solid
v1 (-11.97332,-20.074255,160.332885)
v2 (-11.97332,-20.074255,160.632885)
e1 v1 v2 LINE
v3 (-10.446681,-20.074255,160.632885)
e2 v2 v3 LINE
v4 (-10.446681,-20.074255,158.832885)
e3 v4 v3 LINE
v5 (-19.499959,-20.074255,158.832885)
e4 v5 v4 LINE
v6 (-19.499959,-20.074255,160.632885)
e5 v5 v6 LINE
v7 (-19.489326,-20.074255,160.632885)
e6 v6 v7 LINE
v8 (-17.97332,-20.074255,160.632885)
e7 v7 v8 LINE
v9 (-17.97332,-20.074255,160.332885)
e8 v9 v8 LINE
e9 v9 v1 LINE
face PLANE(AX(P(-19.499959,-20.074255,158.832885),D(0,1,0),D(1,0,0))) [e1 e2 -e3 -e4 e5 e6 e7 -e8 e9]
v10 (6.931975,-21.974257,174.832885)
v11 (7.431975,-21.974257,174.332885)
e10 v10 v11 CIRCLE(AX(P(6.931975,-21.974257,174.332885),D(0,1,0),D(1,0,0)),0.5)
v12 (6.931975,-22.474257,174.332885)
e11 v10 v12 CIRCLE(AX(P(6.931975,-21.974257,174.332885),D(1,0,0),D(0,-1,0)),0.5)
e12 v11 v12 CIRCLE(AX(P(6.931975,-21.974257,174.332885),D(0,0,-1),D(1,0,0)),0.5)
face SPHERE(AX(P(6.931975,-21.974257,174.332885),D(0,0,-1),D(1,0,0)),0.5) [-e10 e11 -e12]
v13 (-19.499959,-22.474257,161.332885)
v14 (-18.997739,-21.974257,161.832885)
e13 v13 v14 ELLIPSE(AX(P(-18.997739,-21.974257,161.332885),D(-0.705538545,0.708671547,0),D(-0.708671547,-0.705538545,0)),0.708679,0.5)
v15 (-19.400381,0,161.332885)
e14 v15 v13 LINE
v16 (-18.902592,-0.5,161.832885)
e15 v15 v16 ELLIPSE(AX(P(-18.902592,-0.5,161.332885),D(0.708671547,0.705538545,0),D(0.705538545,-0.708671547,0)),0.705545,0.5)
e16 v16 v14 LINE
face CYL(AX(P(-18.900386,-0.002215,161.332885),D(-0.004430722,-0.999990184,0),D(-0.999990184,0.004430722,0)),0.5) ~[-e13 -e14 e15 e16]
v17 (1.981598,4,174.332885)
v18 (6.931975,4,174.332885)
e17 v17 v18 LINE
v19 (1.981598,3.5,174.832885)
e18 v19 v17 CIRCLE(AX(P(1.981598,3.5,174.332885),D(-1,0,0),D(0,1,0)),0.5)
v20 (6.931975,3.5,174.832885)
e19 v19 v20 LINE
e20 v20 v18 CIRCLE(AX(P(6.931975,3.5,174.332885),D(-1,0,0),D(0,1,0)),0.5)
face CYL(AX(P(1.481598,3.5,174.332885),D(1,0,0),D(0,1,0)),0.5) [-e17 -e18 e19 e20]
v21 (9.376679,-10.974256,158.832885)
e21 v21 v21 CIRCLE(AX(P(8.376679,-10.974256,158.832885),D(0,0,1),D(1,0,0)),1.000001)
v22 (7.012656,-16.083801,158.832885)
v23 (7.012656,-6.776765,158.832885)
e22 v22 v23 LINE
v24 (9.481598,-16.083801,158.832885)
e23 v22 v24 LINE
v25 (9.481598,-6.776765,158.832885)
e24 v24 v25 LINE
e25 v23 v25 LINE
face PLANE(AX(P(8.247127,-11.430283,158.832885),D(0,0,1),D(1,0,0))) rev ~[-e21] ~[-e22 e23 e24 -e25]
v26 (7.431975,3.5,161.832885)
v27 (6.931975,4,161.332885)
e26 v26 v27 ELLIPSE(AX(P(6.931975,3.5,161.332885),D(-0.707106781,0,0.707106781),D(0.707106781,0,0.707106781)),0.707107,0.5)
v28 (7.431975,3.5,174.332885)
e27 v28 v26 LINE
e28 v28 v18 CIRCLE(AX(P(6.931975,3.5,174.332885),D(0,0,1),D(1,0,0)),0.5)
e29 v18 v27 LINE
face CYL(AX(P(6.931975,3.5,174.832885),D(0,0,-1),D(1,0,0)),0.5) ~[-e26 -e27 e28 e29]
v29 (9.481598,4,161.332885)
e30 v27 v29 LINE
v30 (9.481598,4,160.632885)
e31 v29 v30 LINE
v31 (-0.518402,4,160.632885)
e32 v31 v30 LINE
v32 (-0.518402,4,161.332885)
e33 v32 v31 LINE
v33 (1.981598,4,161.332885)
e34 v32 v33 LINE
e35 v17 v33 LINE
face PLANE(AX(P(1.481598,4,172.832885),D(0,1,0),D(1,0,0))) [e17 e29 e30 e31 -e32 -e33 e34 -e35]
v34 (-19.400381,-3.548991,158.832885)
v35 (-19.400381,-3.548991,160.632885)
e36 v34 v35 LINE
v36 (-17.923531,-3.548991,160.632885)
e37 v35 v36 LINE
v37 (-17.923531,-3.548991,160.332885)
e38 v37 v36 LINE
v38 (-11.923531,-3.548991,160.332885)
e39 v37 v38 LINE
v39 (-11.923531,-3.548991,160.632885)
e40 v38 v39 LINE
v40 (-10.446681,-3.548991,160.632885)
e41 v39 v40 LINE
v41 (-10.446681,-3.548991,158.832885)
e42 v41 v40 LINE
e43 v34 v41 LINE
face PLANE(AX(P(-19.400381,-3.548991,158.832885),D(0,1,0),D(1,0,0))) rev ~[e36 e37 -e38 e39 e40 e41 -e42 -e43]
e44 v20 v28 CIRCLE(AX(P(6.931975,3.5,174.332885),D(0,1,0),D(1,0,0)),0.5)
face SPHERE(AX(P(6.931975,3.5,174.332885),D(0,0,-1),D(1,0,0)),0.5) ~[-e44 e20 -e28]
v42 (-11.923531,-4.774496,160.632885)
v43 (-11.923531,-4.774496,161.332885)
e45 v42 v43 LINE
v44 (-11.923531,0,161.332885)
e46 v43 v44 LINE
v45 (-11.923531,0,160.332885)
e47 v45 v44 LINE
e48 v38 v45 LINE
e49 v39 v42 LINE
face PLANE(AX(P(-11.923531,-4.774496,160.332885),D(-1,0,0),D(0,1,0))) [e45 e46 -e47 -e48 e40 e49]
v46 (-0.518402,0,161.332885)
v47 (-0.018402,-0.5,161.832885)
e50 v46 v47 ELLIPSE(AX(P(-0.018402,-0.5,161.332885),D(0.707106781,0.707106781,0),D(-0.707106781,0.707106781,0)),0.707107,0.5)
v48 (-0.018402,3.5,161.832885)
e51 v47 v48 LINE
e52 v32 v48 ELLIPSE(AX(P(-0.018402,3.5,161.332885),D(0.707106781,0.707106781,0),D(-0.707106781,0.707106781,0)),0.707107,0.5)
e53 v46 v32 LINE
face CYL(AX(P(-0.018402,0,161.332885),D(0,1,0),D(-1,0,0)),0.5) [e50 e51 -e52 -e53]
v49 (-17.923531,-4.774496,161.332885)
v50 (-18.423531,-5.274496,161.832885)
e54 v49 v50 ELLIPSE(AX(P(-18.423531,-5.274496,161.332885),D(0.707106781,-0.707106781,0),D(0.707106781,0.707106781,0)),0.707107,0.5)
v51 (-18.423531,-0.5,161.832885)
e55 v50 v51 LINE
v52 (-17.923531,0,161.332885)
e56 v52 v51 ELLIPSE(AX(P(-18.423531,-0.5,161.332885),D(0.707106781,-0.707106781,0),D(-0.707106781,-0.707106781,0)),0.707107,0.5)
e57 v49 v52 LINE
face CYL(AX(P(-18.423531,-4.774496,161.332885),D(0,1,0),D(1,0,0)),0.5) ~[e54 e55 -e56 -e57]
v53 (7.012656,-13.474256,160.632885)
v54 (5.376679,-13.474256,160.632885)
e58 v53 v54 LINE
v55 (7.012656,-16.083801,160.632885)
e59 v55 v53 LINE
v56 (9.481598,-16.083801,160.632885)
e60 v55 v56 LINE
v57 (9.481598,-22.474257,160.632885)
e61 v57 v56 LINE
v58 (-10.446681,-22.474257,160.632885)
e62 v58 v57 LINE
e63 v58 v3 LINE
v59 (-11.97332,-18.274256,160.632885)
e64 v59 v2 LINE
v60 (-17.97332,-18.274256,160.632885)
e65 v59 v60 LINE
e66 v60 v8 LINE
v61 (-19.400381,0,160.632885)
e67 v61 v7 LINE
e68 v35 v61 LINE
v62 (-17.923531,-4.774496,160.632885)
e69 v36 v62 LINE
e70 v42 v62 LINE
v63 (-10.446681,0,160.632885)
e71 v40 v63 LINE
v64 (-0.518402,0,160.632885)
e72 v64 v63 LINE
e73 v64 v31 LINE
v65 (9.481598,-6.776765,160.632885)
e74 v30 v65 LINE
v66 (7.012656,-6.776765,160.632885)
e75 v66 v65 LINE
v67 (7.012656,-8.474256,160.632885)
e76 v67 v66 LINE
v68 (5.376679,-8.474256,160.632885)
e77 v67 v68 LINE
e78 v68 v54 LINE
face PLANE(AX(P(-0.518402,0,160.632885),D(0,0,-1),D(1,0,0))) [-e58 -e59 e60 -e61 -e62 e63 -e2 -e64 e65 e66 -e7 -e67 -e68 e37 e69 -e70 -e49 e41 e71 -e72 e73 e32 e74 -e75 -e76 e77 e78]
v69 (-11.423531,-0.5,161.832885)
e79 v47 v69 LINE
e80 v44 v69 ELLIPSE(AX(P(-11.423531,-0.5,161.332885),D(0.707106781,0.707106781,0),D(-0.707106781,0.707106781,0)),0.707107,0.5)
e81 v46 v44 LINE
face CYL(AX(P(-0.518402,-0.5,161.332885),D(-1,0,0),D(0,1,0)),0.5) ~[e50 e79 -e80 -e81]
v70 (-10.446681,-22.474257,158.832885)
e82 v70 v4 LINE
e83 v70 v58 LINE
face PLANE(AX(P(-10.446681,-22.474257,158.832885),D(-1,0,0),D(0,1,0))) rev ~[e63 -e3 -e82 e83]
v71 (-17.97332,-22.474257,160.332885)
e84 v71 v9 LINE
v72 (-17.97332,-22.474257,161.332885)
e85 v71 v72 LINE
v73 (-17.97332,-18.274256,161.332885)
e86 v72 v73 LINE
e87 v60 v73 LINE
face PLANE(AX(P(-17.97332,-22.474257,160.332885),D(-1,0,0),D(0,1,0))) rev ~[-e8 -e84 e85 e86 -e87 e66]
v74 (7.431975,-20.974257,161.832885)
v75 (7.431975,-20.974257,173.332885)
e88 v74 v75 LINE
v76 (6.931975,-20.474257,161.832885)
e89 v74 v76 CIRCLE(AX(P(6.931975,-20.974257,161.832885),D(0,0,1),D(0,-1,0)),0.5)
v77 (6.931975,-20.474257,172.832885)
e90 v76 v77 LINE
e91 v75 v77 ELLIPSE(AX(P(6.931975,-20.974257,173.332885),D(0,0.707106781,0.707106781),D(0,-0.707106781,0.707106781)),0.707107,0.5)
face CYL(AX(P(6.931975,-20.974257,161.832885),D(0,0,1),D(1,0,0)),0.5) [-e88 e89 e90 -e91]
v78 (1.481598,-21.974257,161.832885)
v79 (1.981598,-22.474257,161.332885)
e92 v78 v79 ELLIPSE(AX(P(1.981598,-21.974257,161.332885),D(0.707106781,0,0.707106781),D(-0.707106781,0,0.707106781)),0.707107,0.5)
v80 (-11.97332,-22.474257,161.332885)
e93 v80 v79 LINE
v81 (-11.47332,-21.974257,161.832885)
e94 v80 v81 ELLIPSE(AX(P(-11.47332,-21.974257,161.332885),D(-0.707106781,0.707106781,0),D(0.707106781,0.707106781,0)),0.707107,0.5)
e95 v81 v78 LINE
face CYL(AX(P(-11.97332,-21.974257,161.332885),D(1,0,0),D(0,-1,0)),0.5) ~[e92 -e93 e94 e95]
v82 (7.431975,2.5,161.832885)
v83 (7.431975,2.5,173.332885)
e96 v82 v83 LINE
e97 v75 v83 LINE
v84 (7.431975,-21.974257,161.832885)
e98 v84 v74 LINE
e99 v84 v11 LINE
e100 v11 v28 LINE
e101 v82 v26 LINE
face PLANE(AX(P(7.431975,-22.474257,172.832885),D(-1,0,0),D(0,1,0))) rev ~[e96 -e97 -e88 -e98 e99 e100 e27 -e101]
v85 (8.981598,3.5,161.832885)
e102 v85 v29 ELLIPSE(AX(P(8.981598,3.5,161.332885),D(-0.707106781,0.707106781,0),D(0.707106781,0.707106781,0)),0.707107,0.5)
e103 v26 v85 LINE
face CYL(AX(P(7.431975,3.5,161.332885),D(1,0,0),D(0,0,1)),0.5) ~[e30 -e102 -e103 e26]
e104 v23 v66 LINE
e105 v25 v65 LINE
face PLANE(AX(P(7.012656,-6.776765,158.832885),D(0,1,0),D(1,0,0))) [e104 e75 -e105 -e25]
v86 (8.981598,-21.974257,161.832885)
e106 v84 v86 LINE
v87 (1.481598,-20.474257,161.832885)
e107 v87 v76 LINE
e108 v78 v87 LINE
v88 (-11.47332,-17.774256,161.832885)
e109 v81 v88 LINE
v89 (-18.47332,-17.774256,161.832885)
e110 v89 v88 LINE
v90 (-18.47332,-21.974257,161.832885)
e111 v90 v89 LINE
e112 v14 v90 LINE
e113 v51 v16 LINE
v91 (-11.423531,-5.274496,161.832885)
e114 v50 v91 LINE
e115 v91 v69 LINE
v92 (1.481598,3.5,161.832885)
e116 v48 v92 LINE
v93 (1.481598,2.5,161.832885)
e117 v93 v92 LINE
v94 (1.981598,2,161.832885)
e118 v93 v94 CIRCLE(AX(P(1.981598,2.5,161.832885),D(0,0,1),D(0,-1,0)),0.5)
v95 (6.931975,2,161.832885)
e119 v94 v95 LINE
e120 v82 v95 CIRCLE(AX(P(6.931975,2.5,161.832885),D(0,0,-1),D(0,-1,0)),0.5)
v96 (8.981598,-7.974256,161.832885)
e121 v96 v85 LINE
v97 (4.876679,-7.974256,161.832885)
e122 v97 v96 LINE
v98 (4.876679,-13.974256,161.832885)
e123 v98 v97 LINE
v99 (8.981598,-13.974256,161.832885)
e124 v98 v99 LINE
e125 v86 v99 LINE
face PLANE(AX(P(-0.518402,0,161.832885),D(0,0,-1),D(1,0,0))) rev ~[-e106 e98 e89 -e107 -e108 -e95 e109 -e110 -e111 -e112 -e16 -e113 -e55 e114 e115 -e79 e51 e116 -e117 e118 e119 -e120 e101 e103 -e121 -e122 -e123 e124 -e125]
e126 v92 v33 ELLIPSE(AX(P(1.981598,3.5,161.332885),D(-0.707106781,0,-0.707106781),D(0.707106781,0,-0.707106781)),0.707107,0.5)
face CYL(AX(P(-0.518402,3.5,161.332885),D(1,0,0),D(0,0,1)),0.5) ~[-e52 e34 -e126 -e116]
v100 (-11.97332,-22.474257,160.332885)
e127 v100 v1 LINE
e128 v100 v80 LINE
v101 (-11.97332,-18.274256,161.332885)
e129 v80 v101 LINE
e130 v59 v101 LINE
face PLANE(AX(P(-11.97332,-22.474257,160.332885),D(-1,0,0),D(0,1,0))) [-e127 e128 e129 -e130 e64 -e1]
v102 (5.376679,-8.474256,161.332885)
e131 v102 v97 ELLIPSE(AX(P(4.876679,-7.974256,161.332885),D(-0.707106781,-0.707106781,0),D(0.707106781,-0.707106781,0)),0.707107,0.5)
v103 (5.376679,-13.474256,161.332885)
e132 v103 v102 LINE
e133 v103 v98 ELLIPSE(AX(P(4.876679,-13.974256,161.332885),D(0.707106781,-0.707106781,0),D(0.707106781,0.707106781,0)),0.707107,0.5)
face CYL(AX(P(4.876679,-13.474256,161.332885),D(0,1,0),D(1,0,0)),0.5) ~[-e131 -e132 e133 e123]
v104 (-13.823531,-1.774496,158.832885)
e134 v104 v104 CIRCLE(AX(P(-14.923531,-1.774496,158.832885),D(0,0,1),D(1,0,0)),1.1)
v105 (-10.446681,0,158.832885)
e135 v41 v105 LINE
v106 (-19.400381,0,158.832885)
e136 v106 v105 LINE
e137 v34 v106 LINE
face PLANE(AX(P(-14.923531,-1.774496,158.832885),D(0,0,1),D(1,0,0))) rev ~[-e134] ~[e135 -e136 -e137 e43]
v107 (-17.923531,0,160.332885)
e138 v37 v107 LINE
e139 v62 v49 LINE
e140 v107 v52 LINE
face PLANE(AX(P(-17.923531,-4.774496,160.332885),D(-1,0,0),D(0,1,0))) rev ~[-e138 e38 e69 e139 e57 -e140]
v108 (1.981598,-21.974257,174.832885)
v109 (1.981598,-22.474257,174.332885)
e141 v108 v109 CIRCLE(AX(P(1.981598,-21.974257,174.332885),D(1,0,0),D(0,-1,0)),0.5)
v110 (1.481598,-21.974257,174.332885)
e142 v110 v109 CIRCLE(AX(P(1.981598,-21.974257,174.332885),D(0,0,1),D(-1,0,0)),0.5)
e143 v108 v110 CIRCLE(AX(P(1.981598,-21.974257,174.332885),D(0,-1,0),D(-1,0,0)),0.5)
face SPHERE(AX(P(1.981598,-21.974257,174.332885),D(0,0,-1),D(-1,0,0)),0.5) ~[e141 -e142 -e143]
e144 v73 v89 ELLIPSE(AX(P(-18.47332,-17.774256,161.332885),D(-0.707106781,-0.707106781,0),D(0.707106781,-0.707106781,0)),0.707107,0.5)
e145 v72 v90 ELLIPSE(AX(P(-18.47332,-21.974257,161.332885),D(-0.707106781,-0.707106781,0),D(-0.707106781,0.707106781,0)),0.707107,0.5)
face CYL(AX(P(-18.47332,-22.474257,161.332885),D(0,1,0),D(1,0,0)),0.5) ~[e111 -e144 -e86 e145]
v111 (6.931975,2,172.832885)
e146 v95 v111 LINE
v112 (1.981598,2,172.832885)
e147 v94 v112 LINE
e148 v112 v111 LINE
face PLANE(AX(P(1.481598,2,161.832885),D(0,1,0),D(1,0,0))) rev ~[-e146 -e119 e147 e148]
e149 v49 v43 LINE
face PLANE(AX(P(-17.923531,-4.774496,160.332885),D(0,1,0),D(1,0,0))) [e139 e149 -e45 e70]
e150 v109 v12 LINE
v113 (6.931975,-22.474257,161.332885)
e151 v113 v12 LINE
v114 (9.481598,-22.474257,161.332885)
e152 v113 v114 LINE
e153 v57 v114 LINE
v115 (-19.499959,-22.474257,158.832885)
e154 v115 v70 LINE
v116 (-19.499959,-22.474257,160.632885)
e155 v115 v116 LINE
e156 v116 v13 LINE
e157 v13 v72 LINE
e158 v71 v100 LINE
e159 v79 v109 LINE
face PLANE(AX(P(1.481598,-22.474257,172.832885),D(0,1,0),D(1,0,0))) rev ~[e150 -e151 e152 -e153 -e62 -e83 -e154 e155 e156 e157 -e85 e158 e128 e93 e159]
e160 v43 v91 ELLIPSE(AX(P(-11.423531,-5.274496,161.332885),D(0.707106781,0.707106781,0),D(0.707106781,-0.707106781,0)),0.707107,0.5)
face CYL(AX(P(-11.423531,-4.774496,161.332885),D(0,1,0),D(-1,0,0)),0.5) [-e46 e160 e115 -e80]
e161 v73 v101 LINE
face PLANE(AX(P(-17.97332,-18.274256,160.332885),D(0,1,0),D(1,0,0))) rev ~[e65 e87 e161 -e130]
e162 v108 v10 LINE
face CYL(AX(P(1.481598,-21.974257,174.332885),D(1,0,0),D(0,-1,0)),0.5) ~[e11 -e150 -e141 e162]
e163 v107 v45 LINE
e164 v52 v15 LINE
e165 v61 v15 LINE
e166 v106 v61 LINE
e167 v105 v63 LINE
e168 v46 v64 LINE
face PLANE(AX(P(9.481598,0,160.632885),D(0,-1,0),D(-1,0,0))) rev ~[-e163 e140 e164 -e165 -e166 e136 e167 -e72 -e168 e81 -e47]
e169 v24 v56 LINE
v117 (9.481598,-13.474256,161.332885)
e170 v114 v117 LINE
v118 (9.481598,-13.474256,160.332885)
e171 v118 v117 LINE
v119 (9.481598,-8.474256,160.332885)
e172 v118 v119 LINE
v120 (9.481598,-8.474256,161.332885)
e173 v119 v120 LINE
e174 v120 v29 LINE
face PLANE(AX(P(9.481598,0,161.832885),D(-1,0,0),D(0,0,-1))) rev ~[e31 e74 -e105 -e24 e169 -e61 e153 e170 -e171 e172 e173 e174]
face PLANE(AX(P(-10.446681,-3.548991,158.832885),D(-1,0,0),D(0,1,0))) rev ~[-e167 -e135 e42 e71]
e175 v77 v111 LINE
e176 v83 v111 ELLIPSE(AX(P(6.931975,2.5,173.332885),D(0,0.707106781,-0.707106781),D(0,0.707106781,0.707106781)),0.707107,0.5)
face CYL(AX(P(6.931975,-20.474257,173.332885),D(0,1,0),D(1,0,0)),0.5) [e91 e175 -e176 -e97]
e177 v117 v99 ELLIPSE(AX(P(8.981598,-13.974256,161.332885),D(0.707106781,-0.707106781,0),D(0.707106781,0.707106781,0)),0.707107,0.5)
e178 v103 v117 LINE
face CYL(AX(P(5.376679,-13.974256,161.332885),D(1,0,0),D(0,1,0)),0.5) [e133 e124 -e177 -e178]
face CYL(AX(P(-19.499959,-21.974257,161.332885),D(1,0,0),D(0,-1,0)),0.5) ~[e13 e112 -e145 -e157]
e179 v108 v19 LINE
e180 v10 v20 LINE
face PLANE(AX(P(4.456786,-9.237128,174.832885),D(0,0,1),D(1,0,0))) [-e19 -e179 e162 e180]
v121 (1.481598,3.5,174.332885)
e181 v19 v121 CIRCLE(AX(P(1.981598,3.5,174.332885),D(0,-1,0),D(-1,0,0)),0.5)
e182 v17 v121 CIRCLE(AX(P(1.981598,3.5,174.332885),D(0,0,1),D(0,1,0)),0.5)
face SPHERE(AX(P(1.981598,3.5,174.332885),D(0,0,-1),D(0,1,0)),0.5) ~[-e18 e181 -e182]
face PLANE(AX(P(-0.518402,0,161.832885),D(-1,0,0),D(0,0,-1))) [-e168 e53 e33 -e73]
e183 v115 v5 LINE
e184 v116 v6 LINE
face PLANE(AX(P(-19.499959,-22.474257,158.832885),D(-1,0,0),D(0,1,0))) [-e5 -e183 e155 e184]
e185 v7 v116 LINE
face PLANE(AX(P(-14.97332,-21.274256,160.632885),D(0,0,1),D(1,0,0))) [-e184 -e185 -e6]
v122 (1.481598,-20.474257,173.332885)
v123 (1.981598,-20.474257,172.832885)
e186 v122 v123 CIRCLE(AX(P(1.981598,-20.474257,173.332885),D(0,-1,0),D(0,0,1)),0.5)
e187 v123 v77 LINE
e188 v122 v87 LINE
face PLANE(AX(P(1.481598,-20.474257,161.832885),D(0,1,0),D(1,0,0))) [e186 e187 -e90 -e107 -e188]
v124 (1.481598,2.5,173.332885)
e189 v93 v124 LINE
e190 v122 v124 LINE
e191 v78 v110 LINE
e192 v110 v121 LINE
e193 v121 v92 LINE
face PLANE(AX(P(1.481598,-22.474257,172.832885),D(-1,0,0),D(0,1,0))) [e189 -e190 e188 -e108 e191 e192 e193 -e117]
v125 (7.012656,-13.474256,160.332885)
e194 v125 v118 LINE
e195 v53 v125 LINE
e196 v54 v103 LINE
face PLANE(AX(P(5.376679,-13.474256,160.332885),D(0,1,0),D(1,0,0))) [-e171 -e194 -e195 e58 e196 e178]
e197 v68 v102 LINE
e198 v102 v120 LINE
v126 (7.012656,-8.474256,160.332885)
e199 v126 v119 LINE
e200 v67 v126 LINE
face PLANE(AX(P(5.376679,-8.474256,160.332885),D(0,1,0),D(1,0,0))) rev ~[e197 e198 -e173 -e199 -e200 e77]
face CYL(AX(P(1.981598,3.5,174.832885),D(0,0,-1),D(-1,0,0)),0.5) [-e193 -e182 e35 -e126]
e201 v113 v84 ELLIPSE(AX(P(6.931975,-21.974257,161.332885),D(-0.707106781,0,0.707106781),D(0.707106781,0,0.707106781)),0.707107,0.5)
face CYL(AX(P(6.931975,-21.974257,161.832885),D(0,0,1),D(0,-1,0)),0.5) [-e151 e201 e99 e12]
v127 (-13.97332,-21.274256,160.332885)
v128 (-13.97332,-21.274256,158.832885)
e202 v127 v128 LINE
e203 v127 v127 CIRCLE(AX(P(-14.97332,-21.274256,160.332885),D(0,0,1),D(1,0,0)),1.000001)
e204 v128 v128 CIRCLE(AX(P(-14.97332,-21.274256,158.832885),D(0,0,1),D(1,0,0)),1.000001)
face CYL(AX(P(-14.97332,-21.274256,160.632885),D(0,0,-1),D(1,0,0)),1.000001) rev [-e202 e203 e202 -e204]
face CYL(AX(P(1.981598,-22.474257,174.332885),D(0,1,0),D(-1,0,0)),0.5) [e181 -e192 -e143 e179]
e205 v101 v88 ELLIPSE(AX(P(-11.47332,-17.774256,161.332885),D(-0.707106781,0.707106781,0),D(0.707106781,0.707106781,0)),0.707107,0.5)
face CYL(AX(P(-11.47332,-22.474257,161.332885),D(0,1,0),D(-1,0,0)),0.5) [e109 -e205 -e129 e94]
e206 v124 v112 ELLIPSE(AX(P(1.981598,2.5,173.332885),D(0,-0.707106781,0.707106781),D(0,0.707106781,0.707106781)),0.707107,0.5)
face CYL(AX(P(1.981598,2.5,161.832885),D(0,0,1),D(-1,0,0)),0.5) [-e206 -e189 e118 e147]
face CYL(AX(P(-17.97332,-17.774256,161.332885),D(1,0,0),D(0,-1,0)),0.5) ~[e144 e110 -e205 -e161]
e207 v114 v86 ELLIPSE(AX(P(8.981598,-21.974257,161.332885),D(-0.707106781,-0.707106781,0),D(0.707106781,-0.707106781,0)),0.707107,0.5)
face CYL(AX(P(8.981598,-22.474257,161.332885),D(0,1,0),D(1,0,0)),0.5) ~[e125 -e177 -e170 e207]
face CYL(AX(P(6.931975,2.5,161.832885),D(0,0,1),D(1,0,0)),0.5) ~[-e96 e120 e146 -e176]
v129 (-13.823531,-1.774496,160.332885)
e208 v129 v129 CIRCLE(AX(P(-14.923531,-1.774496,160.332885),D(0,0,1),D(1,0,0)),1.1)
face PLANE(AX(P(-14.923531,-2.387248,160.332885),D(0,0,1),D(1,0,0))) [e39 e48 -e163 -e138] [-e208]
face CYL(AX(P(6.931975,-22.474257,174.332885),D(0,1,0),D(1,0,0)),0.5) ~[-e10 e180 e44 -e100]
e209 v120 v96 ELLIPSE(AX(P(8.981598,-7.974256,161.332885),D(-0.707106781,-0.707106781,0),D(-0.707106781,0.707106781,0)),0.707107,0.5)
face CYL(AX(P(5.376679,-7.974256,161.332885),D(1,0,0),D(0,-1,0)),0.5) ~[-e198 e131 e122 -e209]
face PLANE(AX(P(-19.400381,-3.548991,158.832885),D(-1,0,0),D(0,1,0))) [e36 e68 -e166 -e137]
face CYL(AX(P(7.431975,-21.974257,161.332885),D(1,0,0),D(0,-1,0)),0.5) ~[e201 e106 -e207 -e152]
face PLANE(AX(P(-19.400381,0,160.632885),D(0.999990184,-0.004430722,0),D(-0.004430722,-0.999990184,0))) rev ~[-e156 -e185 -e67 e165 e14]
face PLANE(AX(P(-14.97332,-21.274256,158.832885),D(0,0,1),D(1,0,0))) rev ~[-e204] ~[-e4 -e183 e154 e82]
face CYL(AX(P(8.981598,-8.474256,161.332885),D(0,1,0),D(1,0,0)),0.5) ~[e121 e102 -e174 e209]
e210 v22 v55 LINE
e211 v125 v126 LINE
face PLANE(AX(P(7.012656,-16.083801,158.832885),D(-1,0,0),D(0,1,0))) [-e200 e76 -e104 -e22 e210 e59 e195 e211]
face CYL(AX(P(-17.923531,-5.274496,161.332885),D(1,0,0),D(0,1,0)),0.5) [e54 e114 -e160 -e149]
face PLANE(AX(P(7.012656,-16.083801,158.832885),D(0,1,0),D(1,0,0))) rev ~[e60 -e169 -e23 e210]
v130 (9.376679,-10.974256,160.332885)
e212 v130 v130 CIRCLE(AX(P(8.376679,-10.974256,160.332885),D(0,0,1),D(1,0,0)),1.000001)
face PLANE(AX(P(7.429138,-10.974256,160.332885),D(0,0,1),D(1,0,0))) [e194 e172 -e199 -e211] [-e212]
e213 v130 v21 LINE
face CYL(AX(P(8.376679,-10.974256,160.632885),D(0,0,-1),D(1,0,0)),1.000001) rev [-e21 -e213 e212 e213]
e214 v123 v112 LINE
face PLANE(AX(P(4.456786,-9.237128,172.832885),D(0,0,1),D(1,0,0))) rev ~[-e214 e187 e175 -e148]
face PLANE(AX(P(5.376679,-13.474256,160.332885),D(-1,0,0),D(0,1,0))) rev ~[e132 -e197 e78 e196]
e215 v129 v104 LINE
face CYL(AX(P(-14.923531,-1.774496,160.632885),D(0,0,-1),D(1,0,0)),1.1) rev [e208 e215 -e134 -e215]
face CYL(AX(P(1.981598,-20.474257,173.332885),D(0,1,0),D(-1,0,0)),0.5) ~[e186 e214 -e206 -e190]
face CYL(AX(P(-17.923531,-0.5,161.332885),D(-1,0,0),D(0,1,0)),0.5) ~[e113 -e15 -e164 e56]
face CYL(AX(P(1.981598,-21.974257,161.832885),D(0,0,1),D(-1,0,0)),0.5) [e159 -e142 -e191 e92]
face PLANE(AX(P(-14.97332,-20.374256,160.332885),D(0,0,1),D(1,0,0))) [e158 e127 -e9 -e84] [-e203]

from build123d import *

# Parameters (mm, degrees)
SZKIC1_W                      = 9.053278123
SZKIC1_H                      = 2.4000014
SZKIC1_R                      = 1.00000054
DODANIE_WYCI_GNI_CIE1_DEPTH   = 1.8
SZKIC1_W_2                    = 2.468942166
SZKIC1_H_2                    = 9.307035938
DODANIE_WYCI_GNI_CIE1_2_DEPTH = 1.8
SZKIC1_W_3                    = 8.953699963
SZKIC1_H_3                    = 3.54899108
SZKIC1_R_2                    = 1.10000034
DODANIE_WYCI_GNI_CIE1_3_DEPTH = 1.8
SZKIC2_R                      = 1.00000054
SZKIC2_R_2                    = 1.10000034
DODANIE_WYCI_GNI_CIE2_DEPTH   = 1.2
WYTNIJ_WYCI_GNI_CIE1_START    = -1.5
SZKIC3_W                      = 4.104918972
SZKIC3_H                      = 5
SZKIC3_R                      = 1.00000054
SZKIC3_W_2                    = 6
SZKIC3_H_2                    = 4.77449554
SZKIC3_R_2                    = 1.10000034
SZKIC3_H_3                    = 4.2000007
WYTNIJ_WYCI_GNI_CIE1_DEPTH    = 1.5
SZKIC7_W                      = 10
SZKIC7_H                      = 1.2
DODANIE_WYCI_GNI_CIE3_DEPTH   = 4
SZKIC8_W                      = 5.950377167
SZKIC8_H                      = 2
DODANIE_WYCI_GNI_CIE4_DEPTH   = 11
SZKIC9_W                      = 5.950377167
SZKIC9_H                      = 26.47425658
DODANIE_WYCI_GNI_CIE5_DEPTH   = 2
ZAOKR_GLENIE4_R               = 0.5


with BuildPart() as part:
    # Szkic1 → Dodanie-wyciągnięcie1 (new body)
    with BuildSketch(Plane.XY.offset(158.832884642)):
        with Locations((-14.973320297, -21.27425588)):
            Rectangle(SZKIC1_W, SZKIC1_H)
        with Locations((-14.973320296, -21.27425588)):
            Circle(SZKIC1_R, mode=Mode.SUBTRACT)
    extrude(amount=DODANIE_WYCI_GNI_CIE1_DEPTH)



with BuildPart() as body_2:
    # Szkic1 → Dodanie-wyci_gni_cie1 2 (new body)
    with BuildSketch(Plane.XY.offset(158.832884642)):
        with Locations((8.247126613, -11.430282713)):
            Rectangle(SZKIC1_W_2, SZKIC1_H_2)
        with Locations((8.376678724, -10.97425616)):
            Circle(SZKIC1_R, mode=Mode.SUBTRACT)
    extrude(amount=DODANIE_WYCI_GNI_CIE1_2_DEPTH)


with BuildPart() as body_3:
    # Szkic1 → Dodanie-wyci_gni_cie1 3 (new body)
    with BuildSketch(Plane.XY.offset(158.832884642)):
        with Locations((-14.923531217, -1.77449554)):
            Rectangle(SZKIC1_W_3, SZKIC1_H_3)
        with Locations((-14.923531216, -1.77449554)):
            Circle(SZKIC1_R_2, mode=Mode.SUBTRACT)
    extrude(amount=DODANIE_WYCI_GNI_CIE1_3_DEPTH)


with BuildPart() as part_1:
    add(part.part)

    add(body_2.part)  # Dodanie-wyciągnięcie2 merges body 2

    add(body_3.part)  # Dodanie-wyciągnięcie2 merges body 3
    # Szkic2 → Dodanie-wyciągnięcie2 (add)
    with BuildSketch(Plane.XY.offset(160.632884642)):
        Polygon((9.481597696, 0), (-19.400381198, 0), (-19.499959358, -22.47425658), (9.481597696, -22.47425658), align=None)
        with Locations((8.376678724, -10.97425616)):
            Circle(SZKIC2_R, mode=Mode.SUBTRACT)
        with Locations((-14.973320296, -21.27425588)):
            Circle(SZKIC2_R, mode=Mode.SUBTRACT)
        with Locations((-14.923531216, -1.77449554)):
            Circle(SZKIC2_R_2, mode=Mode.SUBTRACT)
    extrude(amount=DODANIE_WYCI_GNI_CIE2_DEPTH)

    # Szkic3 → Wytnij-wyciągnięcie1 (cut)
    # profile 1 of 3: a face of its own
    with BuildSketch(Plane.XY.offset(161.832884642).offset(WYTNIJ_WYCI_GNI_CIE1_START)):
        with Locations((7.42913821, -10.97425616)):
            Rectangle(SZKIC3_W, SZKIC3_H)
        with Locations((8.376678724, -10.97425616)):
            Circle(SZKIC3_R, mode=Mode.SUBTRACT)
    # profile 2 of 3: a face of its own
    with BuildSketch(Plane.XY.offset(161.832884642).offset(WYTNIJ_WYCI_GNI_CIE1_START)):
        with Locations((-14.923531216, -2.38724777)):
            Rectangle(SZKIC3_W_2, SZKIC3_H_2)
        with Locations((-14.923531216, -1.77449554)):
            Circle(SZKIC3_R_2, mode=Mode.SUBTRACT)
    # profile 3 of 3: a face of its own
    with BuildSketch(Plane.XY.offset(161.832884642).offset(WYTNIJ_WYCI_GNI_CIE1_START)):
        with Locations((-14.973320296, -20.37425623)):
            Rectangle(SZKIC3_W_2, SZKIC3_H_3)
        with Locations((-14.973320296, -21.27425588)):
            Circle(SZKIC3_R, mode=Mode.SUBTRACT)
    extrude(amount=WYTNIJ_WYCI_GNI_CIE1_DEPTH, mode=Mode.SUBTRACT)

    # Szkic7 → Dodanie-wyciągnięcie3 (add)
    with BuildSketch(Plane(origin=(0, 0, 0), x_dir=(1, 0, 0), z_dir=(0, 1, 0))):
        with Locations((4.481597696, -161.232884642)):
            Rectangle(SZKIC7_W, SZKIC7_H)
    extrude(amount=DODANIE_WYCI_GNI_CIE3_DEPTH)

    # Szkic8 → Dodanie-wyciągnięcie4 (add)
    with BuildSketch(Plane.XY.offset(161.832884642)):
        with Locations((4.45678628, 3)):
            Rectangle(SZKIC8_W, SZKIC8_H)
        with Locations((4.45678628, -21.47425658)):
            Rectangle(SZKIC8_W, SZKIC8_H)
    extrude(amount=DODANIE_WYCI_GNI_CIE4_DEPTH)

    # Szkic9 → Dodanie-wyciągnięcie5 (add)
    with BuildSketch(Plane.XY.offset(172.832884642)):
        with Locations((4.45678628, -9.23712829)):
            Rectangle(SZKIC9_W, SZKIC9_H)
    extrude(amount=DODANIE_WYCI_GNI_CIE5_DEPTH)

    # Zaokrąglenie4
    zaokr_glenie4_edges = [part_1.edges().sort_by_distance(p)[0] for p in [
        (-11.973320296, -20.37425623, 161.832884642),
        (-14.973320296, -18.27425588, 161.832884642),
        (-17.973320296, -20.37425623, 161.832884642),
        (-6.22096676, 0, 161.832884642),
        (-0.518402304, 2, 161.832884642),
        (0.481597696, 4, 161.832884642),
        (8.456786279, 4, 161.832884642),
        (7.431974863, 2, 167.332884642),
        (7.431974863, 4, 168.332884642),
        (1.481597696, 4, 168.332884642),
        (1.481597696, 2, 167.332884642),
        (8.456786279, -22.47425658, 161.832884642),
        (7.431974863, -22.47425658, 168.332884642),
        (7.431974863, -20.47425658, 167.332884642),
        (1.481597696, -22.47425658, 168.332884642),
        (7.431974863, -9.23712829, 172.832884642),
        (1.481597696, -9.23712829, 172.832884642),
        (7.431974863, -9.23712829, 174.832884642),
        (4.456786279, 4, 174.832884642),
        (1.481597696, -9.23712829, 174.832884642),
        (4.456786279, -22.47425658, 174.832884642),
        (9.481597696, -17.97425637, 161.832884642),
        (-19.450170278, -11.23712829, 161.832884642),
        (-18.736639827, -22.47425658, 161.832884642),
        (-18.661956207, 0, 161.832884642),
        (9.481597696, -2.23712808, 161.832884642),
        (-5.2458613, -22.47425658, 161.832884642),
        (7.42913821, -8.47425616, 161.832884642),
        (5.376678724, -10.97425616, 161.832884642),
        (7.42913821, -13.47425616, 161.832884642),
        (-17.923531216, -2.38724777, 161.832884642),
        (-14.923531216, -4.77449554, 161.832884642),
        (-11.923531216, -2.38724777, 161.832884642),
    ]]
    fillet(zaokr_glenie4_edges, radius=ZAOKR_GLENIE4_R)


solid = part_1.part
